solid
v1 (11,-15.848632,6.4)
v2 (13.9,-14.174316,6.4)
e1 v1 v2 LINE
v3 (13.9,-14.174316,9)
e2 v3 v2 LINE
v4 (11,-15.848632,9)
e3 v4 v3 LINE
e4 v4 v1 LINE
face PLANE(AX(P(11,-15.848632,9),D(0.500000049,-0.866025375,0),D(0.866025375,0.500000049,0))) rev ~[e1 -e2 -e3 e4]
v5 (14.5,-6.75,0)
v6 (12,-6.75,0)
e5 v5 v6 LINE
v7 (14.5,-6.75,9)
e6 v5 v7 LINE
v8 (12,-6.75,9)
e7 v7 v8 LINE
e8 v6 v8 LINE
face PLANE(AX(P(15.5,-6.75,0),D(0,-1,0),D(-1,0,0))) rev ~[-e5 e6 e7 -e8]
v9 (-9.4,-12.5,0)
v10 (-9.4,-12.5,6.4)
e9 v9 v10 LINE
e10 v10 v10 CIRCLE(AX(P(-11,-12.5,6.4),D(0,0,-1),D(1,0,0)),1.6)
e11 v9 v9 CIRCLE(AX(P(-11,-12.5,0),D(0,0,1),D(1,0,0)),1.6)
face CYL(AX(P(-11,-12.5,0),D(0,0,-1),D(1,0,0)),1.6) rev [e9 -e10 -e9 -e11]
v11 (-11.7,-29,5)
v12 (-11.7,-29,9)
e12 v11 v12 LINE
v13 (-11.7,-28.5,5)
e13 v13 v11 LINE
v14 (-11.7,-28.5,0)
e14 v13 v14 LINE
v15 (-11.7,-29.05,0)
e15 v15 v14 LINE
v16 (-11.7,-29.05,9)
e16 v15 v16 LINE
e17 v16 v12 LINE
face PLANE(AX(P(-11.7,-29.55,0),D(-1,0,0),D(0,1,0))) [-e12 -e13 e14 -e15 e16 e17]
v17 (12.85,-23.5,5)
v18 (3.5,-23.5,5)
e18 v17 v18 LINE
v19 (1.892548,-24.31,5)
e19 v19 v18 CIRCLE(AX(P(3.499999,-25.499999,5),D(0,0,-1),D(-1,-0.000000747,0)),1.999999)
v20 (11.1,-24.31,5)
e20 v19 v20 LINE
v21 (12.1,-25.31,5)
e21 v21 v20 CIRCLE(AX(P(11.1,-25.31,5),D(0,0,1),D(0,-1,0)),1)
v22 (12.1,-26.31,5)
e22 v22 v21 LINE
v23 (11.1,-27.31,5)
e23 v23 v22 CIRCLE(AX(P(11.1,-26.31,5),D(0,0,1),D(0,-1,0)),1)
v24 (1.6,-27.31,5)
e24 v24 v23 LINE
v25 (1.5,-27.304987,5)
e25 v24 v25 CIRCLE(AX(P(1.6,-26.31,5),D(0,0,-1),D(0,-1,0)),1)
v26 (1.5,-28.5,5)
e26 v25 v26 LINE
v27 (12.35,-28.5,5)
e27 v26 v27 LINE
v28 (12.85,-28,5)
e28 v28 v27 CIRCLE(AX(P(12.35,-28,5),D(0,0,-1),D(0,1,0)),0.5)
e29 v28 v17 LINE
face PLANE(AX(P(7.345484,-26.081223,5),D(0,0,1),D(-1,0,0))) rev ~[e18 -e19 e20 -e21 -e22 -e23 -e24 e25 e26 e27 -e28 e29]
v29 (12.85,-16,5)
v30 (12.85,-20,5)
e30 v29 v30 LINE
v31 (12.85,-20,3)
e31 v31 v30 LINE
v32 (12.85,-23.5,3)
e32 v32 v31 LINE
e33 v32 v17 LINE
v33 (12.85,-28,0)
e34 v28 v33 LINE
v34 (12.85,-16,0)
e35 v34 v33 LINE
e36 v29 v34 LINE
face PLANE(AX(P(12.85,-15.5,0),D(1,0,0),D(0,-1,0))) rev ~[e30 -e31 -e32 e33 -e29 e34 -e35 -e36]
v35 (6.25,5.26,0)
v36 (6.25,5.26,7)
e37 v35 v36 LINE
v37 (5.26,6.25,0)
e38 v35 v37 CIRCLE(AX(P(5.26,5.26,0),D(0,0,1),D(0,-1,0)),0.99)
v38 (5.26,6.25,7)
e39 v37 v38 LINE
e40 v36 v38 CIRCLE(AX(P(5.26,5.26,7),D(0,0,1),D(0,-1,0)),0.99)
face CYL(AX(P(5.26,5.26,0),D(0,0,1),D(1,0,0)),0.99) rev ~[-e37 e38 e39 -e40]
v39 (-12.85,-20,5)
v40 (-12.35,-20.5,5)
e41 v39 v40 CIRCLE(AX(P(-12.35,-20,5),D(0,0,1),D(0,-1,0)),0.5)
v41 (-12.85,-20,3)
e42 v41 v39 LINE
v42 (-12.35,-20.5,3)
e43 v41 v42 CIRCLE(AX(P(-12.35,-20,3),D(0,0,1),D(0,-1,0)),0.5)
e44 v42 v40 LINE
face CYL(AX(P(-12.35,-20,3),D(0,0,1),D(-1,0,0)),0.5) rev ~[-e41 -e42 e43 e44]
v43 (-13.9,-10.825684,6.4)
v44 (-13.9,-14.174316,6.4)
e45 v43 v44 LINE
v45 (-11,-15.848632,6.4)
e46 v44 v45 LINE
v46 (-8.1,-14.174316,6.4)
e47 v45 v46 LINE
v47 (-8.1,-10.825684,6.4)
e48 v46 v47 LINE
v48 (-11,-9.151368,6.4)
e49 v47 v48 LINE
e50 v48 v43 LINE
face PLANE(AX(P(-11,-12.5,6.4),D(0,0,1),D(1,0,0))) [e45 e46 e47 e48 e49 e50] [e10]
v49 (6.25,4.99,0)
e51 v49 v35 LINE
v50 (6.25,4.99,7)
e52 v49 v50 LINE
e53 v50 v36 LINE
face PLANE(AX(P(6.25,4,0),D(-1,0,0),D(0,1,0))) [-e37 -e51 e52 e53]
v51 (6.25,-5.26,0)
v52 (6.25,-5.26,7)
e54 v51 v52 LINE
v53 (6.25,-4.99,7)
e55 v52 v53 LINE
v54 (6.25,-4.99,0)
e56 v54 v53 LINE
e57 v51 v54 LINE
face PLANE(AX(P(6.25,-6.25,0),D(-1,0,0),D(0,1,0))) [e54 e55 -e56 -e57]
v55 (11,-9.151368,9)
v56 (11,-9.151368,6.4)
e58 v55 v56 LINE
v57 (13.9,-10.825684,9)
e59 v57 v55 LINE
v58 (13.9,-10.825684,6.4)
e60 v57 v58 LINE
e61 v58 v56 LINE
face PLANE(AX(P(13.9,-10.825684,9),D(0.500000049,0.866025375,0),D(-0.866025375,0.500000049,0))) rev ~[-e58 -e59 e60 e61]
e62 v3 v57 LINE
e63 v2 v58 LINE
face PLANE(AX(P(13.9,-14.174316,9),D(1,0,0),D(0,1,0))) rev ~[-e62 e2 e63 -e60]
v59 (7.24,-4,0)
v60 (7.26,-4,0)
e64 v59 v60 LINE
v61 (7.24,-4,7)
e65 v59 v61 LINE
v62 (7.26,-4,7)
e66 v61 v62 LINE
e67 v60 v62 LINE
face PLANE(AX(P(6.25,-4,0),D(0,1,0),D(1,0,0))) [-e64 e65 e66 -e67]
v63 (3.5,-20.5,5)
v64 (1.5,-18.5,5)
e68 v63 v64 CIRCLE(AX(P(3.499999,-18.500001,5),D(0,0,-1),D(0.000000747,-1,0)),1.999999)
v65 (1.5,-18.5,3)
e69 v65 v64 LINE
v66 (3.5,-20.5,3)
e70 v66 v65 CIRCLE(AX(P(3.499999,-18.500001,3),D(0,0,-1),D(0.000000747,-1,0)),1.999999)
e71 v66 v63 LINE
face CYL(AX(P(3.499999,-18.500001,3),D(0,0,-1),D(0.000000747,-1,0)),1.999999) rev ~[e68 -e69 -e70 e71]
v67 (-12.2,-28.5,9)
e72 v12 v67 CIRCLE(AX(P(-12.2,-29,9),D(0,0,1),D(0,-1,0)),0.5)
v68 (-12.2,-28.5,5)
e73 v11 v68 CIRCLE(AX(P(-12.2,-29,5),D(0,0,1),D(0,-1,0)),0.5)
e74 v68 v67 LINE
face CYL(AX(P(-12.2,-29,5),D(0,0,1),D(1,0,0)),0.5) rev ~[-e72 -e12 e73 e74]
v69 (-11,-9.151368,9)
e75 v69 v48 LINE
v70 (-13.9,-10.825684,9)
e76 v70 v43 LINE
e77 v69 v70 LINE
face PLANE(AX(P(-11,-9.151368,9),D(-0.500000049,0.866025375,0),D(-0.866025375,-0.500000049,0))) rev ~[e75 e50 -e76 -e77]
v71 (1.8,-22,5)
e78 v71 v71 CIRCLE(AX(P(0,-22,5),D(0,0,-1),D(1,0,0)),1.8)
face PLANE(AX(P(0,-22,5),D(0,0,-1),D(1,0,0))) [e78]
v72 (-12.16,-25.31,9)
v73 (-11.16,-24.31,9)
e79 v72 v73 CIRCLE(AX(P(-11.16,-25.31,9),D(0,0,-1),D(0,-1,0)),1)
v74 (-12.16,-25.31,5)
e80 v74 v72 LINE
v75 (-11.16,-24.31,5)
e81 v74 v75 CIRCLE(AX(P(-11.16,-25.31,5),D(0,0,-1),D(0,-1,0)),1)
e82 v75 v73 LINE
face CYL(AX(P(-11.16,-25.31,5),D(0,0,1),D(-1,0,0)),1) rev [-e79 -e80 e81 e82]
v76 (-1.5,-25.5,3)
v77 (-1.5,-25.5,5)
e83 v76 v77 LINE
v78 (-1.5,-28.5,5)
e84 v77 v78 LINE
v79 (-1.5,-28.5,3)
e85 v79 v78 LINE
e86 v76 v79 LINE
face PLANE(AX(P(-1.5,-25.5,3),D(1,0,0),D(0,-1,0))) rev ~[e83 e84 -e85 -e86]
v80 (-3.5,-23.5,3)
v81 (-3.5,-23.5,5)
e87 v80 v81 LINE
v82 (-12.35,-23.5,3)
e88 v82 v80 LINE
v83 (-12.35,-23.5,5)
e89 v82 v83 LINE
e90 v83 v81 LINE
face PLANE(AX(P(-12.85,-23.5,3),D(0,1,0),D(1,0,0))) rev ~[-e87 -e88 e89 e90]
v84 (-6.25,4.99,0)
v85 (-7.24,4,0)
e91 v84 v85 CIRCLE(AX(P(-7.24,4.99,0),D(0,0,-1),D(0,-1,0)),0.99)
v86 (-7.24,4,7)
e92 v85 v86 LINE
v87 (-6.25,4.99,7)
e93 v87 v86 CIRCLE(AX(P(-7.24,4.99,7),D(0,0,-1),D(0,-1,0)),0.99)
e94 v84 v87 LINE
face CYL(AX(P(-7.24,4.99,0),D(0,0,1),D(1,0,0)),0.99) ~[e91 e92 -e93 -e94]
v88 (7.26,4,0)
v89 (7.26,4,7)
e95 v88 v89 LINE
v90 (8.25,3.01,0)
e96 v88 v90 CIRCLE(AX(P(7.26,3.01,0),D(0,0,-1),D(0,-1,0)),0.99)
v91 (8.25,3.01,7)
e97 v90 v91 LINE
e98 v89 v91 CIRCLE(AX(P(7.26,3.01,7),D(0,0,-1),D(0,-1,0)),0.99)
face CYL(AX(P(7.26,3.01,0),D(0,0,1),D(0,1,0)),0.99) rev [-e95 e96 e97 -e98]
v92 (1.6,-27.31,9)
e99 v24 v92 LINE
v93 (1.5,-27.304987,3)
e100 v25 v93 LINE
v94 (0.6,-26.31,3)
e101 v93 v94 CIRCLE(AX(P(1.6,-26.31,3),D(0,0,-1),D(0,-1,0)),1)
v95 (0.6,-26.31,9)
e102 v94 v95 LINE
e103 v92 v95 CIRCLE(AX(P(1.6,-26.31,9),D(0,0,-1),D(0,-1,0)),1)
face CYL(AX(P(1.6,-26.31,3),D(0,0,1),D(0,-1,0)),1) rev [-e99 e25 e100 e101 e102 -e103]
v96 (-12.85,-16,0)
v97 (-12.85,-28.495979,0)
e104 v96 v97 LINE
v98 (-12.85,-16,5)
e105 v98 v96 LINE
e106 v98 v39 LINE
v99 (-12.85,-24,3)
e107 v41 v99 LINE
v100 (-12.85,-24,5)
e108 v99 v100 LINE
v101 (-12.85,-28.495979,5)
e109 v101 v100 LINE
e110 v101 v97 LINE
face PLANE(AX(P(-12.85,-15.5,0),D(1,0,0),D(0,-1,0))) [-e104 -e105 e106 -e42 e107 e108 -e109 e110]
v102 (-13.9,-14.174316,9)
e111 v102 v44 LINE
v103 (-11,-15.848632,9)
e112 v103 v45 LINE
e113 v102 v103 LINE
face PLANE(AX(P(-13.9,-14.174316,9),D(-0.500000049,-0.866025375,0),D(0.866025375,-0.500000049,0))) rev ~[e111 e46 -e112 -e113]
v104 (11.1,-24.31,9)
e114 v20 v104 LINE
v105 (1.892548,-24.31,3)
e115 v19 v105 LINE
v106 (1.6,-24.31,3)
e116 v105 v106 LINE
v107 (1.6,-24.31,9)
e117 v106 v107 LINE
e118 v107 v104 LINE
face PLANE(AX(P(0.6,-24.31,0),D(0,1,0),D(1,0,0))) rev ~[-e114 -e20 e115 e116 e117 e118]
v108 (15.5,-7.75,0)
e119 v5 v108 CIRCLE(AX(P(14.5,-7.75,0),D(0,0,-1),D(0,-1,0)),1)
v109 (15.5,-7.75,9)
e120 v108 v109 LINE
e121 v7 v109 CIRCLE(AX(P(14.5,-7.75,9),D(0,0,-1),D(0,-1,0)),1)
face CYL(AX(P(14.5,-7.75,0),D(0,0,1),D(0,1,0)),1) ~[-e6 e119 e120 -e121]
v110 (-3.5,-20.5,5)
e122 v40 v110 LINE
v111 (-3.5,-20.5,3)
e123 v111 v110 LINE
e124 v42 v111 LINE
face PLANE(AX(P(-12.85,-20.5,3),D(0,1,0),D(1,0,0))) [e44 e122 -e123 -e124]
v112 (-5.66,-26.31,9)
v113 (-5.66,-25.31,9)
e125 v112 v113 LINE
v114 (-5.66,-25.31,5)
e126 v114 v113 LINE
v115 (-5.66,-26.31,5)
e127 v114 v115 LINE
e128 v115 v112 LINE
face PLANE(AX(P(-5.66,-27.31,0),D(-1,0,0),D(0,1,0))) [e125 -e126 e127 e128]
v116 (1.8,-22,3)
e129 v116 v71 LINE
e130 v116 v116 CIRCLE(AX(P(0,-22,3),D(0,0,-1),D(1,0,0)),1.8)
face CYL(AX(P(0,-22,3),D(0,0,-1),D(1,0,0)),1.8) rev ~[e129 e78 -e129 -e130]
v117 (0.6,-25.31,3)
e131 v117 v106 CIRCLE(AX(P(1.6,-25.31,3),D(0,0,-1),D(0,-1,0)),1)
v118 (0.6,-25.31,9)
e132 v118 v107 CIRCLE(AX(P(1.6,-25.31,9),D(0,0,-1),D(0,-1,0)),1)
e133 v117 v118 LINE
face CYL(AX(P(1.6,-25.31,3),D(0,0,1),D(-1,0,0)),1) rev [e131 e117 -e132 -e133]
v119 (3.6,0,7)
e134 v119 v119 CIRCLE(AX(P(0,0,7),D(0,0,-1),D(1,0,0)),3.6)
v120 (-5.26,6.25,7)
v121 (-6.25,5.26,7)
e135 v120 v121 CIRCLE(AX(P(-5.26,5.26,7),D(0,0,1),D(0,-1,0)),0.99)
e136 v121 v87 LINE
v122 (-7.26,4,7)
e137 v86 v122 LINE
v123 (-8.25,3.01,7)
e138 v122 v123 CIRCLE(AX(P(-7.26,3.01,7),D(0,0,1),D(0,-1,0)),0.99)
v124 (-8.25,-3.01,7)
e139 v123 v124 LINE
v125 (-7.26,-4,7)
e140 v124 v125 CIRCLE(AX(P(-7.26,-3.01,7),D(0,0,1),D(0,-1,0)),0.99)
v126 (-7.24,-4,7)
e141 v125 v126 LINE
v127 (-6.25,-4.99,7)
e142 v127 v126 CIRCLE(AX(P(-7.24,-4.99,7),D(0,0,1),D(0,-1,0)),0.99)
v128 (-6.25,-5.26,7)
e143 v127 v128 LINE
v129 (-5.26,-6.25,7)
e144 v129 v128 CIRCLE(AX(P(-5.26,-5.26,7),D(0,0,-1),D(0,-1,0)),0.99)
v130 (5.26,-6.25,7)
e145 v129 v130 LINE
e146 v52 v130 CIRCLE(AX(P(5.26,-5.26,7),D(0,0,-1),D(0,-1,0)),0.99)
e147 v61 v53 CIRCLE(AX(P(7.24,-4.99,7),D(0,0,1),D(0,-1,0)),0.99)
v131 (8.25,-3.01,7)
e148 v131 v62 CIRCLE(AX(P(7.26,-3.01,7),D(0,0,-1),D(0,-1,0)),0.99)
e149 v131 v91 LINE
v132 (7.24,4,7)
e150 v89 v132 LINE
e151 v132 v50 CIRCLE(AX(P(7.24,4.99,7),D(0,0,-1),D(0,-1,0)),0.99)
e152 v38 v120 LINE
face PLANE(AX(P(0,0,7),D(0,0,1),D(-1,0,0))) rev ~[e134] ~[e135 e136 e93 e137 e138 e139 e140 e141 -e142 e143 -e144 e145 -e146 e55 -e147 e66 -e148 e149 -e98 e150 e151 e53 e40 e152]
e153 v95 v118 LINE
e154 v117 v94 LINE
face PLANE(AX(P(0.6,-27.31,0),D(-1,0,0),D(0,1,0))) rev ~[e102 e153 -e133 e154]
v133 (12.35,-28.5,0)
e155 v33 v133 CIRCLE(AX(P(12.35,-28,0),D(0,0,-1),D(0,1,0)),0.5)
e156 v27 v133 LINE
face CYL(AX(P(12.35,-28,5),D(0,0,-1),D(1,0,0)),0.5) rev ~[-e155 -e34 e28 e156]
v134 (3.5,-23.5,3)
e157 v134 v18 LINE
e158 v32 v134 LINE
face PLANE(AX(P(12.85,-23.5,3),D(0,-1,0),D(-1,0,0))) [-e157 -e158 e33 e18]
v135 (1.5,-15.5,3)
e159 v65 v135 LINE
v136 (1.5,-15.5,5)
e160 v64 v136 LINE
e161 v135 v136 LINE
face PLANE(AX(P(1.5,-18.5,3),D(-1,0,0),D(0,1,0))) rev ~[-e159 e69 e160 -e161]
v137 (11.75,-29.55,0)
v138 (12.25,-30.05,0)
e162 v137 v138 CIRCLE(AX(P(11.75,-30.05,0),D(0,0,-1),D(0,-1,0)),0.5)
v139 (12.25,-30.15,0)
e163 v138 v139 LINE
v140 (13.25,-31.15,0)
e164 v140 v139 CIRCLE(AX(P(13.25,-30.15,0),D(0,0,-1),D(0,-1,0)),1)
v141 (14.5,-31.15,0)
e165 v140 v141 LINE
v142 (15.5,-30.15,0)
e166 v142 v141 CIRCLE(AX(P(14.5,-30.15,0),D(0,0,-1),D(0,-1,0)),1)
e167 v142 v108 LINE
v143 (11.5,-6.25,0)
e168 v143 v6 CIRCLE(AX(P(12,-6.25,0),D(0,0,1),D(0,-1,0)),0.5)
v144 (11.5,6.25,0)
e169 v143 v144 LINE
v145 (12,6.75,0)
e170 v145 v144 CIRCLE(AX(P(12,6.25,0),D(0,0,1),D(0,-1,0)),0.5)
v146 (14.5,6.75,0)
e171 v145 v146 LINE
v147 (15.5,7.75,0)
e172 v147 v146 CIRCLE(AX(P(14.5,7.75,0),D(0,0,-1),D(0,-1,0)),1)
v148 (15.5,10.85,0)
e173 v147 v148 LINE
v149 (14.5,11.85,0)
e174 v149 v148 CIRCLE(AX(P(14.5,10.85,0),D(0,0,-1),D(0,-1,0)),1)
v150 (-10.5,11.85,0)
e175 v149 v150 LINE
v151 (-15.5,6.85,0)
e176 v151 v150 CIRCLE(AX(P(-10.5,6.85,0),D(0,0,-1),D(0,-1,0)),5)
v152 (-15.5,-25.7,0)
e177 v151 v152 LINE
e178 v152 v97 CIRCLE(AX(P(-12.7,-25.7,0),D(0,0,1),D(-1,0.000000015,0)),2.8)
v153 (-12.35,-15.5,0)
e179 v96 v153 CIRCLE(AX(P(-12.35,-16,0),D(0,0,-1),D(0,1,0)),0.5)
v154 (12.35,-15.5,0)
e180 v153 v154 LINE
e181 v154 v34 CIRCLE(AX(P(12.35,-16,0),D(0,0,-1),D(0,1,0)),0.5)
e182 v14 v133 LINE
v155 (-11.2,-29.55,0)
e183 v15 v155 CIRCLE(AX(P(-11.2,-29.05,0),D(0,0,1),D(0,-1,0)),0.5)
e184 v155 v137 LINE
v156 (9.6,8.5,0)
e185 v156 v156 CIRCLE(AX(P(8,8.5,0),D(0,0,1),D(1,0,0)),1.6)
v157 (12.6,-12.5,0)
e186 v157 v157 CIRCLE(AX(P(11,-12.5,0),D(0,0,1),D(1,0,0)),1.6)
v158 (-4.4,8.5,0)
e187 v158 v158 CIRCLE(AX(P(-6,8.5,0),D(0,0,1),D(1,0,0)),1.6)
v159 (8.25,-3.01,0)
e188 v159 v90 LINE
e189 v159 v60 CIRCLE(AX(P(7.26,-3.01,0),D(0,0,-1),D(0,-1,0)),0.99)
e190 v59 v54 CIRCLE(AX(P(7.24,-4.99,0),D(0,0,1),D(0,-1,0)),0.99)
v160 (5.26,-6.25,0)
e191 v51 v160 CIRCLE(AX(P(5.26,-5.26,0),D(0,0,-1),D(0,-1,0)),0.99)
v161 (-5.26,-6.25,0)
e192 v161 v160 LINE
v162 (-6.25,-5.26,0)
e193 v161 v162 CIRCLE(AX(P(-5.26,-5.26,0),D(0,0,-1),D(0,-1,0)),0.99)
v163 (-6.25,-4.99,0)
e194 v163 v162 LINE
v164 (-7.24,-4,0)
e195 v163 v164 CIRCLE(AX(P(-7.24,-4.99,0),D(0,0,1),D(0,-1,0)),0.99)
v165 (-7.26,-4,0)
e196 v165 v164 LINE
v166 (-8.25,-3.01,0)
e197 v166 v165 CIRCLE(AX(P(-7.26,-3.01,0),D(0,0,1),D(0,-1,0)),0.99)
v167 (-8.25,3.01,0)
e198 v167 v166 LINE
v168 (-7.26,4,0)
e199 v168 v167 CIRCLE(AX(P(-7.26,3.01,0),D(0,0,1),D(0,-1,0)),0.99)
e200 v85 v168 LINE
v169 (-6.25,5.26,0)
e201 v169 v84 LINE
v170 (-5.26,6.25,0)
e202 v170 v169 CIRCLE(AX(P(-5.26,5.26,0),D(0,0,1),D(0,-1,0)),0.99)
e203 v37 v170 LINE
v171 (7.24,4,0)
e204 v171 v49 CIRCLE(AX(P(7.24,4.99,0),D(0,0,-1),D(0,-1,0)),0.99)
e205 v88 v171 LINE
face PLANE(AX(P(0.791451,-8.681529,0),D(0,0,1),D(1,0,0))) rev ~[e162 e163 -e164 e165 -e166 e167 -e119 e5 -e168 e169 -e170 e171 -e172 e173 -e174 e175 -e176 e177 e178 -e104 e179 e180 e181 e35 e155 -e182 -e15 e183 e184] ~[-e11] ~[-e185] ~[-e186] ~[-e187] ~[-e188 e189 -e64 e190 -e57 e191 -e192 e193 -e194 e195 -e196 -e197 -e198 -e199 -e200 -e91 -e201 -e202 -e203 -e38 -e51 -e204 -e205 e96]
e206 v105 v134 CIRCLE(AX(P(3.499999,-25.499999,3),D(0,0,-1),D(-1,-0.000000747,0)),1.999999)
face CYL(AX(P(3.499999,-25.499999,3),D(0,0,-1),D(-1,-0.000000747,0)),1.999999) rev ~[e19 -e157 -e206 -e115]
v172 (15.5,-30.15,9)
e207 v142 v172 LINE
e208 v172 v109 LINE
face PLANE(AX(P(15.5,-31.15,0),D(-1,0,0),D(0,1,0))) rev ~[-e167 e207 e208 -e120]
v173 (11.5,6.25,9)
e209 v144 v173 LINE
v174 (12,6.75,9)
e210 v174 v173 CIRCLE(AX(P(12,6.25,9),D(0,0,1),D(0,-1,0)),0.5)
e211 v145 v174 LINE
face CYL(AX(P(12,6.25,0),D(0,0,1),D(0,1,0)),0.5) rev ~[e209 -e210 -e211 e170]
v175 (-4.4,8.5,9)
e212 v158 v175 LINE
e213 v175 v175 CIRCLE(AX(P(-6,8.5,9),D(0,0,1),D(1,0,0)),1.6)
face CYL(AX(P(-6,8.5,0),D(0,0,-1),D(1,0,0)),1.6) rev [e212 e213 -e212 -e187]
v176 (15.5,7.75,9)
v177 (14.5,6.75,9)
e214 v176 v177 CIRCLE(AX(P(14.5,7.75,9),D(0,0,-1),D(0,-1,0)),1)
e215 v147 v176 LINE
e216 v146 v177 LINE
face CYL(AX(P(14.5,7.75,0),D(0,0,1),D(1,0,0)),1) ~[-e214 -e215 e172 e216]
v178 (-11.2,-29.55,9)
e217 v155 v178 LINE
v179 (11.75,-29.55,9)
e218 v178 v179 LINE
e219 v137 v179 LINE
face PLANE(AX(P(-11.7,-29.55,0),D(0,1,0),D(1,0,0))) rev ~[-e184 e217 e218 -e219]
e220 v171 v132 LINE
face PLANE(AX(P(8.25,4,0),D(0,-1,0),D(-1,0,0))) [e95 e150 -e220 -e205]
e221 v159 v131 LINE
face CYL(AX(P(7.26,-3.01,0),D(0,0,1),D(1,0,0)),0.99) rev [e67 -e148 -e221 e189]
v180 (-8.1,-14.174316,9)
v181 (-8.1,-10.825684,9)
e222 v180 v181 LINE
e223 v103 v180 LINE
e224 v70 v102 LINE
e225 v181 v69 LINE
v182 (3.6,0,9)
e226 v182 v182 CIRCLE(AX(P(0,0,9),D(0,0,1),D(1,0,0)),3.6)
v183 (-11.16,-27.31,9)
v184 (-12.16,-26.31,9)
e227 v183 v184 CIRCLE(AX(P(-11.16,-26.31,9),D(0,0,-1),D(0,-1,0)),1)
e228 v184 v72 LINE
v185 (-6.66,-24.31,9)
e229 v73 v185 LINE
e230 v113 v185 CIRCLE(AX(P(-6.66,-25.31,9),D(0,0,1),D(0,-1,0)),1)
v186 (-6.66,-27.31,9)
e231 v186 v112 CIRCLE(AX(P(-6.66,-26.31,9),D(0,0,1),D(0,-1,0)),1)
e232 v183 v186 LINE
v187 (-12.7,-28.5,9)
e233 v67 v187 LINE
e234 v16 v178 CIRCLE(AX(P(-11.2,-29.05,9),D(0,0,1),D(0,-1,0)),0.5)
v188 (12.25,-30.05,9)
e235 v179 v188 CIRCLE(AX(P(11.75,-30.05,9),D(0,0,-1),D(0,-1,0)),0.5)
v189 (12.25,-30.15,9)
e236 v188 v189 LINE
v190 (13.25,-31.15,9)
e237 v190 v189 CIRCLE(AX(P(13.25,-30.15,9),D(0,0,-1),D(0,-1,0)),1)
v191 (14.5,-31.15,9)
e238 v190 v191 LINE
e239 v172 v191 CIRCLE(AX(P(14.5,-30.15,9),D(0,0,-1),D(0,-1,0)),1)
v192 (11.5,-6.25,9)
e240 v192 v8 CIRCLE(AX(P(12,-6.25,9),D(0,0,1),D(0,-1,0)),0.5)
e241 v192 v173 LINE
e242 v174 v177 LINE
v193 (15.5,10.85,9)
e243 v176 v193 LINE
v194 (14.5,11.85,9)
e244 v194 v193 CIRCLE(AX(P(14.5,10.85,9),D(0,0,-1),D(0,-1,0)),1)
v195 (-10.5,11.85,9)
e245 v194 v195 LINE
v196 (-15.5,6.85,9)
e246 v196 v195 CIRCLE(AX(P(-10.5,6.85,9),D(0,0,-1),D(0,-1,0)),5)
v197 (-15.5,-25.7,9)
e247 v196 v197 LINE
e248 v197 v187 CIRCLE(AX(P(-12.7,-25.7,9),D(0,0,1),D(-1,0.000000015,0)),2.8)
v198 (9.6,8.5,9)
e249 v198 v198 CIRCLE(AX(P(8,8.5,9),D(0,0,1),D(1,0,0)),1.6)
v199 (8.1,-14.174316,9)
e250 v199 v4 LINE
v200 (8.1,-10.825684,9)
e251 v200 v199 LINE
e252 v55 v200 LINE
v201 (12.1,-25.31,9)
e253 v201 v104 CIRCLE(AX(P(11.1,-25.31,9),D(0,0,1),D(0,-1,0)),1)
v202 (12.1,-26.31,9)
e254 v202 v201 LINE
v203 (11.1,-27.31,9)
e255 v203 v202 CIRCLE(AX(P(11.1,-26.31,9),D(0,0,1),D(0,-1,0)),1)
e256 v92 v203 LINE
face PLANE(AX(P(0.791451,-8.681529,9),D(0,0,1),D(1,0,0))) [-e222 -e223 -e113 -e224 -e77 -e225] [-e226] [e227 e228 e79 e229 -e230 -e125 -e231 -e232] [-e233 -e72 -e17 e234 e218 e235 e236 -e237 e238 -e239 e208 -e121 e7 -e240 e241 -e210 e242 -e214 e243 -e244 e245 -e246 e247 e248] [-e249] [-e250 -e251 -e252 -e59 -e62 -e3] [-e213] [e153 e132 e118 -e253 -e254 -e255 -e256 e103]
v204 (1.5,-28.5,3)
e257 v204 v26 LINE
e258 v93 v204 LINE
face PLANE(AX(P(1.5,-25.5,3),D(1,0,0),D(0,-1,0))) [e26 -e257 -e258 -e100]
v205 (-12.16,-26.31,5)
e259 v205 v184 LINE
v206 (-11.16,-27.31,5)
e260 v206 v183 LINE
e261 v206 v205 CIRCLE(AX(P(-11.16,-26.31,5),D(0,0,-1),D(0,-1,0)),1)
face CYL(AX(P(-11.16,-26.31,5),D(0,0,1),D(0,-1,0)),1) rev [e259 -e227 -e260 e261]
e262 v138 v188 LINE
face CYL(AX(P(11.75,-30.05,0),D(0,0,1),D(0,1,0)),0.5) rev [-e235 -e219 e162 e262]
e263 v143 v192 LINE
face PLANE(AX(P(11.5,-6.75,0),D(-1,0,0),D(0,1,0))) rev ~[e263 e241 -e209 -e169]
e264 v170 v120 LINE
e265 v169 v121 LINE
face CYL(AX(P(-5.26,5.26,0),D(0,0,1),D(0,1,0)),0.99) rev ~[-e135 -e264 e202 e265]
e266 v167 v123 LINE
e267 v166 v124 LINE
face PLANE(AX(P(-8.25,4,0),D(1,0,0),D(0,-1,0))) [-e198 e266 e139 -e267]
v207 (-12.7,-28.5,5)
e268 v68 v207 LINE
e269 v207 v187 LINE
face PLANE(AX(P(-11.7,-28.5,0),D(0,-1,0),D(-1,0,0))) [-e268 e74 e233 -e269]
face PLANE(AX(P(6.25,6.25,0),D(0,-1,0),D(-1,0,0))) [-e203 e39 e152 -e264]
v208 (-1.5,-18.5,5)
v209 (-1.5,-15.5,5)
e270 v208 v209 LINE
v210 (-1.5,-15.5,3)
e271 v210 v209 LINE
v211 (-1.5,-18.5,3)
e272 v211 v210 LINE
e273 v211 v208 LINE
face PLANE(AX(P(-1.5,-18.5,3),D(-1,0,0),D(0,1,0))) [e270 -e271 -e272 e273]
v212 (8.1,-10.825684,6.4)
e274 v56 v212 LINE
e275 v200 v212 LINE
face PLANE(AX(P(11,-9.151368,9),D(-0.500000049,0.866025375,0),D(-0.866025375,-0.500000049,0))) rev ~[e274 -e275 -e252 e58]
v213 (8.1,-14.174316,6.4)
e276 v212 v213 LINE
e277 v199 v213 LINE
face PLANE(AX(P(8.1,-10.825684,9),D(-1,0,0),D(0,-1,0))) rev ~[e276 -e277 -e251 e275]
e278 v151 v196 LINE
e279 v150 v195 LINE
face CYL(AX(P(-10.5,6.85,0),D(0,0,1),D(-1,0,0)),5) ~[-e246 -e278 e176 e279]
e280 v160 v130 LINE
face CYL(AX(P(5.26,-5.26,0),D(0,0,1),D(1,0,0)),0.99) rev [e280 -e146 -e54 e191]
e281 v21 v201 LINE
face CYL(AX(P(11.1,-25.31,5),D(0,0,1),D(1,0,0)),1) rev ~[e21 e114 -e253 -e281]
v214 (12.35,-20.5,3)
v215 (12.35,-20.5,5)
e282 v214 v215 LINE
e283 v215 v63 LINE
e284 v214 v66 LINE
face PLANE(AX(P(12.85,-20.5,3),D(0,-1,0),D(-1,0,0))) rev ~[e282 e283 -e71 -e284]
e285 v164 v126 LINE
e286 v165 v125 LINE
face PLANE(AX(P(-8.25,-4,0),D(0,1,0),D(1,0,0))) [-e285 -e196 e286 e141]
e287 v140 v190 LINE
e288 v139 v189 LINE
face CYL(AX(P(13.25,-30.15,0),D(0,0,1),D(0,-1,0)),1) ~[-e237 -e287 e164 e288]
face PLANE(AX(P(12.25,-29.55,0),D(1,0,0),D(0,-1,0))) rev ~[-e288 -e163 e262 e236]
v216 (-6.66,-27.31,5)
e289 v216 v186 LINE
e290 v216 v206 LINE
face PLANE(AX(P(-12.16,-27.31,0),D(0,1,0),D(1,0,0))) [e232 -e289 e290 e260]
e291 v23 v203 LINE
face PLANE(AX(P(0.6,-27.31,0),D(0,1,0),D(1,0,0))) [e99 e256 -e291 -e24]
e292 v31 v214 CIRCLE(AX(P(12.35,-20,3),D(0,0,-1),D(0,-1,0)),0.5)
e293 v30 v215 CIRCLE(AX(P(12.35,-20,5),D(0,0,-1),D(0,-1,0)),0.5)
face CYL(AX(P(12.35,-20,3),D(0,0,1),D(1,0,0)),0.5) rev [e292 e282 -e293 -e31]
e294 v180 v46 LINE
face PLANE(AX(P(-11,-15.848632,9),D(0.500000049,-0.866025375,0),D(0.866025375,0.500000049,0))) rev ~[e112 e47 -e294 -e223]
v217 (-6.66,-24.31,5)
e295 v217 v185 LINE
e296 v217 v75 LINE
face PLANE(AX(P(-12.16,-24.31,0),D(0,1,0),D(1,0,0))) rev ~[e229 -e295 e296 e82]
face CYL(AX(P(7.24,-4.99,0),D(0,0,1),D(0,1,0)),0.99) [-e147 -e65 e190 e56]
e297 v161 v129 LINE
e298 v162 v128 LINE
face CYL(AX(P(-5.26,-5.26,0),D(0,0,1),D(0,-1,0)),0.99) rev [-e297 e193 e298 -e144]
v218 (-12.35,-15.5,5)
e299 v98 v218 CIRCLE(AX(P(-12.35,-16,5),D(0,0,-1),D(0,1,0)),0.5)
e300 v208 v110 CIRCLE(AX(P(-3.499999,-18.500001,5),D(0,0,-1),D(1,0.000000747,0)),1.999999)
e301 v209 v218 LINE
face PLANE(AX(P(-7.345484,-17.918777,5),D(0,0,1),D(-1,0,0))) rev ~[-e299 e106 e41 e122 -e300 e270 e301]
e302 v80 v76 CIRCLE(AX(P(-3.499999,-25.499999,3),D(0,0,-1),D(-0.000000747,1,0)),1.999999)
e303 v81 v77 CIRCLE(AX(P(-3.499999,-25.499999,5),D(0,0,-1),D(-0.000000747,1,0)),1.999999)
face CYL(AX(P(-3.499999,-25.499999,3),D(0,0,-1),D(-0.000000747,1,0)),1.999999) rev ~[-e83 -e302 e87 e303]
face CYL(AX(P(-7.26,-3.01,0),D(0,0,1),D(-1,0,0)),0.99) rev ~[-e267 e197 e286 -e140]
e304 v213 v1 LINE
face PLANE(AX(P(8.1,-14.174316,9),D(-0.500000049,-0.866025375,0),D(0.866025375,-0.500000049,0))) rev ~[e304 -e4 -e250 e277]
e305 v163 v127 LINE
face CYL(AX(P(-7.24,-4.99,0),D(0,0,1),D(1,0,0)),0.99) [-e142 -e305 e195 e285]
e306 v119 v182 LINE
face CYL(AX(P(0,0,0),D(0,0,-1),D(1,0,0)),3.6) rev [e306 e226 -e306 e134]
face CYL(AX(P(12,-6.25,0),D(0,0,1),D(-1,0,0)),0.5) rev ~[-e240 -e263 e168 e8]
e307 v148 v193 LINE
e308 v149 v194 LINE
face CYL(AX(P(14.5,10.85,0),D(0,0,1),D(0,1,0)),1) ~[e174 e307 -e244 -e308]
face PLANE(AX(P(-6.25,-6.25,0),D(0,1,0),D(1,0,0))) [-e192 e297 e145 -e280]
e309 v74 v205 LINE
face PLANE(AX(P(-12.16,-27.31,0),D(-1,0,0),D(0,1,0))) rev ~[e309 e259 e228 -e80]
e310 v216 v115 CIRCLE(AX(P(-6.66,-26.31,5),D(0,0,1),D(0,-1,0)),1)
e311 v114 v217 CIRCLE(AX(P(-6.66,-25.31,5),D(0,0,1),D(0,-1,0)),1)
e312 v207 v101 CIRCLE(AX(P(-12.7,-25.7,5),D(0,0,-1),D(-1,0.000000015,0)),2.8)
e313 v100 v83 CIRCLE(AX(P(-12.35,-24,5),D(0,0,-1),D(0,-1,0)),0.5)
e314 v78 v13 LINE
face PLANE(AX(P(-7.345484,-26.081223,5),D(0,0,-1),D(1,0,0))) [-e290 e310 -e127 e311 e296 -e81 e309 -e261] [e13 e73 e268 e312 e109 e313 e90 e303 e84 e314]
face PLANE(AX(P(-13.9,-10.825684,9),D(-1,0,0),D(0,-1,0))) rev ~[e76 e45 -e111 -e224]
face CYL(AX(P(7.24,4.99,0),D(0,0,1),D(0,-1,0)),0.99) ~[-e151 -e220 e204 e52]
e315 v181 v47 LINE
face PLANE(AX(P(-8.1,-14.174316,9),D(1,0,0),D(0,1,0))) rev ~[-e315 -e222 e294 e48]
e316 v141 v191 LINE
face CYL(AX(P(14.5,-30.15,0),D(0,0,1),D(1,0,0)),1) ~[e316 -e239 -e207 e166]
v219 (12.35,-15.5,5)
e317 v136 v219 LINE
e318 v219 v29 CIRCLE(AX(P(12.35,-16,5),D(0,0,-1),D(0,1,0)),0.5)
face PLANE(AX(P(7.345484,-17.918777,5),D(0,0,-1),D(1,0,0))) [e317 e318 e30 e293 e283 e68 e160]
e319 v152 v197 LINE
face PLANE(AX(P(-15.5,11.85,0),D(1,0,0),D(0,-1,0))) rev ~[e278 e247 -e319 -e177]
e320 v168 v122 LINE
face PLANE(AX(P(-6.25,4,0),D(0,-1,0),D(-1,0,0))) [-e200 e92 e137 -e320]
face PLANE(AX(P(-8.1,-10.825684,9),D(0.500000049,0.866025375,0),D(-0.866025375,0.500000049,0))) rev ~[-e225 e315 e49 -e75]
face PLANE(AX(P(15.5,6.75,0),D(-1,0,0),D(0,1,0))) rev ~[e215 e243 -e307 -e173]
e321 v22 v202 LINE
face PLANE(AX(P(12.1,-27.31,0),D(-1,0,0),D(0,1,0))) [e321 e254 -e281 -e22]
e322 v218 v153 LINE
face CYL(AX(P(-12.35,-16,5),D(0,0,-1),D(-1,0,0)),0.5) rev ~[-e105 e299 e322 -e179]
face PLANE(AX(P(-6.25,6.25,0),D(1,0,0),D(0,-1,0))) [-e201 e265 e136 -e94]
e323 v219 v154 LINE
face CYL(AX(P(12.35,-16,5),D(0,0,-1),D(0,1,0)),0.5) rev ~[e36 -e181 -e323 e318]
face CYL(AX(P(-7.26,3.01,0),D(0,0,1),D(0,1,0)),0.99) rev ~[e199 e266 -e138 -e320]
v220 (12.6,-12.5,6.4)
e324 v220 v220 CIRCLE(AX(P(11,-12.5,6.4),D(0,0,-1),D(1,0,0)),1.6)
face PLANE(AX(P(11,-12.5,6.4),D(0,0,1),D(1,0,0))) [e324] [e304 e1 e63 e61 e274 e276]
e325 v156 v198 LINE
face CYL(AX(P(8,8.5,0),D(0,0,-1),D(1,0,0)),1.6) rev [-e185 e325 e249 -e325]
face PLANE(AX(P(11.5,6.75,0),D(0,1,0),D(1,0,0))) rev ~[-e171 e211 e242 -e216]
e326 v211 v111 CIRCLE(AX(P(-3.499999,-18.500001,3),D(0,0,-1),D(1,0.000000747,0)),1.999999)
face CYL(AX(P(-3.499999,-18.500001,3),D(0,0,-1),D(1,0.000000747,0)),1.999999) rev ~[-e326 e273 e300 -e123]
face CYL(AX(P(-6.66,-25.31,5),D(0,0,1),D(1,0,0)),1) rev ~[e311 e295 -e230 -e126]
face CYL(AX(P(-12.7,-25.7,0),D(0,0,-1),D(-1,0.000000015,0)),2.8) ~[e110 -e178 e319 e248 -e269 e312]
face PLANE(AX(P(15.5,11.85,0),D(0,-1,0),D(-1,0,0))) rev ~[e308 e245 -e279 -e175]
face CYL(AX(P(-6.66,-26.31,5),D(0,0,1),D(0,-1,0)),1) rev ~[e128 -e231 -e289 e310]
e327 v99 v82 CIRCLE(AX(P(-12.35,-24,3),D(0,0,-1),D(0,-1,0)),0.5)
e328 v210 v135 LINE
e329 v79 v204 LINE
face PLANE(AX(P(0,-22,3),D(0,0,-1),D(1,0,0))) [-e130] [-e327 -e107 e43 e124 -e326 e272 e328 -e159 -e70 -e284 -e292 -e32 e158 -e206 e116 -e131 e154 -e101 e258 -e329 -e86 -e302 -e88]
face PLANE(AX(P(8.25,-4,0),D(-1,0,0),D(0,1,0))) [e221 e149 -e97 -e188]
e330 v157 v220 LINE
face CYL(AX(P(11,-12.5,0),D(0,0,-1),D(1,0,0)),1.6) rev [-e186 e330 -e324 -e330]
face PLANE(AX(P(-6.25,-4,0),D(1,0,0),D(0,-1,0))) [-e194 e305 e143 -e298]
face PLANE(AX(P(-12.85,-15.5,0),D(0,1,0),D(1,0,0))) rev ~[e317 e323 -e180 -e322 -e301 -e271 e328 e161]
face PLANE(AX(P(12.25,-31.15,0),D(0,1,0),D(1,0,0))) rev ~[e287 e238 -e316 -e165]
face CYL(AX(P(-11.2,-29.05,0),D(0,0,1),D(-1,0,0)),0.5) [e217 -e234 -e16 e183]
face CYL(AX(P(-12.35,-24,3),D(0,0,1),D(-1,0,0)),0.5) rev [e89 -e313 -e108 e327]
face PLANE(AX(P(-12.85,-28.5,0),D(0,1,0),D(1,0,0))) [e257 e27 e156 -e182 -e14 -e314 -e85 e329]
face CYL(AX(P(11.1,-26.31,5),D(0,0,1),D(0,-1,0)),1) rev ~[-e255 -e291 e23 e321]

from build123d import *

# Parameters (mm, degrees)
SKETCH_R        = 3.6
SKETCH_R_2      = 1.6
SKETCH_W        = 6.5
SKETCH_H        = 3
SKETCH_W_2      = 11.5
PAD_DEPTH       = 9
POCKET_DEPTH    = 2.6
POCKET001_DEPTH = 7
SKETCH003_W     = 25.7
SKETCH003_H     = 13
POCKET002_DEPTH = 3
SKETCH004_R     = 1.8
POCKET003_DEPTH = 2
FILLET_R        = 5
FILLET001_R     = 0.99
FILLET002_R     = 1
FILLET003_R     = 0.5


with BuildPart() as part:
    # Sketch → Pad (new body)
    with BuildSketch(Plane.XY):
        with BuildLine():
            Line((15.5, -31.15), (15.5, -6.75))
            Line((15.5, -6.75), (11.5, -6.75))
            Line((11.5, -6.75), (11.5, 6.75))
            Line((11.5, 6.75), (15.5, 6.75))
            Line((15.5, 6.75), (15.5, 11.85))
            Line((15.5, 11.85), (-15.5, 11.85))
            Line((-15.5, 11.85), (-15.5, -25.7))
            ThreePointArc((-15.5, -25.7), (-14.679899, -27.679899), (-12.7, -28.5))
            Line((-11.7, -28.5), (-12.7, -28.5))
            Line((-11.7, -29.55), (-11.7, -28.5))
            Line((-11.7, -29.55), (12.25, -29.55))
            Line((12.25, -29.55), (12.25, -31.15))
            Line((12.25, -31.15), (15.5, -31.15))
        make_face()
        Circle(SKETCH_R, mode=Mode.SUBTRACT)
        with Locations((-11, -12.5)):
            Circle(SKETCH_R_2, mode=Mode.SUBTRACT)
        with Locations((11, -12.5)):
            Circle(SKETCH_R_2, mode=Mode.SUBTRACT)
        with Locations((-6, 8.5)):
            Circle(SKETCH_R_2, mode=Mode.SUBTRACT)
        with Locations((8, 8.5)):
            Circle(SKETCH_R_2, mode=Mode.SUBTRACT)
        with Locations((-8.91, -25.81)):
            Rectangle(SKETCH_W, SKETCH_H, mode=Mode.SUBTRACT)
        with Locations((6.35, -25.81)):
            Rectangle(SKETCH_W_2, SKETCH_H, mode=Mode.SUBTRACT)
    extrude(amount=PAD_DEPTH)

    # Sketch001 (on Face28 of Pad) → Pocket (cut)
    with BuildSketch(Plane.XY.offset(9)):
        Polygon((-8.1, -14.174316), (-8.1, -10.825684), (-11, -9.151368), (-13.9, -10.825684), (-13.9, -14.174316), (-11, -15.848632), align=None)
        Polygon((13.9, -14.174316), (13.9, -10.825684), (11, -9.151368), (8.1, -10.825684), (8.1, -14.174316), (11, -15.848632), align=None)
    extrude(amount=-POCKET_DEPTH, mode=Mode.SUBTRACT)

    # Sketch002 → Pocket001 (cut)
    with BuildSketch(Plane(origin=(0, 0, 0), x_dir=(1, 0, 0), z_dir=(0, 0, -1))):
        Polygon((8.25, -4), (6.25, -4), (6.25, -6.25), (-6.25, -6.25), (-6.25, -4), (-8.25, -4), (-8.25, 4), (-6.25, 4), (-6.25, 6.25), (6.25, 6.25), (6.25, 4), (8.25, 4), align=None)
    extrude(amount=-POCKET001_DEPTH, mode=Mode.SUBTRACT)

    # Sketch003 → Pocket002 (cut)
    with BuildSketch(Plane(origin=(0, 0, 0), x_dir=(1, 0, 0), z_dir=(0, 0, -1))):
        with Locations((0, 22)):
            Rectangle(SKETCH003_W, SKETCH003_H)
    extrude(amount=-POCKET002_DEPTH, mode=Mode.SUBTRACT)

    # Sketch004 (on Face57 of Pocket002) → Pocket003 (cut)
    with BuildSketch(Plane(origin=(0, 0, 3), x_dir=(1, 0, 0), z_dir=(0, 0, -1))):
        with Locations((0, 22)):
            Circle(SKETCH004_R)
        with BuildLine():
            Line((1.5, 15.5), (12.85, 15.5))
            Line((12.85, 15.5), (12.85, 20.5))
            Line((12.85, 20.5), (3.5, 20.5))
            ThreePointArc((3.5, 20.5), (2.085786, 19.914214), (1.5, 18.5))
            Line((1.5, 18.5), (1.5, 15.5))
        make_face()
        with BuildLine():
            Line((-1.5, 15.5), (-12.85, 15.5))
            Line((-12.85, 15.5), (-12.85, 20.5))
            Line((-12.85, 20.5), (-3.5, 20.5))
            ThreePointArc((-1.5, 18.5), (-2.085786, 19.914214), (-3.5, 20.5))
            Line((-1.5, 18.5), (-1.5, 15.5))
        make_face()
        with BuildLine():
            Line((12.85, 23.5), (3.5, 23.5))
            ThreePointArc((1.5, 25.5), (2.085786, 24.085786), (3.5, 23.5))
            Line((1.5, 25.5), (1.5, 28.5))
            Line((1.5, 28.5), (12.85, 28.5))
            Line((12.85, 28.5), (12.85, 23.5))
        make_face()
        with BuildLine():
            Line((-12.85, 23.5), (-3.5, 23.5))
            ThreePointArc((-3.5, 23.5), (-2.085786, 24.085786), (-1.5, 25.5))
            Line((-1.5, 25.5), (-1.5, 28.5))
            Line((-1.5, 28.5), (-12.85, 28.5))
            Line((-12.85, 28.5), (-12.85, 23.5))
        make_face()
    extrude(amount=-POCKET003_DEPTH, mode=Mode.SUBTRACT)

    # Fillet
    fillet_edges = [part.edges().sort_by_distance(p)[0] for p in [
        (-15.5, 11.85, 4.5),
    ]]
    fillet(fillet_edges, radius=FILLET_R)

    # Fillet001
    fillet001_edges = [part.edges().sort_by_distance(p)[0] for p in [
        (6.25, 6.25, 3.5),
        (-6.25, 6.25, 3.5),
        (-6.25, 4, 3.5),
        (-8.25, 4, 3.5),
        (6.25, 4, 3.5),
        (8.25, 4, 3.5),
        (8.25, -4, 3.5),
        (6.25, -4, 3.5),
        (6.25, -6.25, 3.5),
        (-6.25, -6.25, 3.5),
        (-6.25, -4, 3.5),
        (-8.25, -4, 3.5),
    ]]
    fillet(fillet001_edges, radius=FILLET001_R)

    # Fillet002
    fillet002_edges = [part.edges().sort_by_distance(p)[0] for p in [
        (15.5, 11.85, 4.5),
        (15.5, 6.75, 4.5),
        (15.5, -6.75, 4.5),
        (15.5, -31.15, 4.5),
        (12.25, -31.15, 4.5),
        (12.1, -24.31, 7),
        (0.6, -24.31, 6),
        (12.1, -27.31, 7),
        (0.6, -27.31, 6),
        (-12.16, -24.31, 7),
        (-5.66, -24.31, 7),
        (-5.66, -27.31, 7),
        (-12.16, -27.31, 7),
    ]]
    fillet(fillet002_edges, radius=FILLET002_R)

    # Fillet003
    fillet003_edges = [part.edges().sort_by_distance(p)[0] for p in [
        (11.5, 6.75, 4.5),
        (11.5, -6.75, 4.5),
        (12.85, -15.5, 4),
        (12.85, -15.5, 1.5),
        (12.85, -20.5, 4),
        (-12.85, -15.5, 4),
        (-12.85, -15.5, 1.5),
        (-12.85, -23.5, 4),
        (-12.85, -20.5, 4),
        (-11.7, -29.55, 4.5),
        (12.85, -28.5, 1.5),
        (12.85, -28.5, 4),
        (12.25, -29.55, 4.5),
        (-11.7, -28.5, 7),
    ]]
    fillet(fillet003_edges, radius=FILLET003_R)


solid = part.part
